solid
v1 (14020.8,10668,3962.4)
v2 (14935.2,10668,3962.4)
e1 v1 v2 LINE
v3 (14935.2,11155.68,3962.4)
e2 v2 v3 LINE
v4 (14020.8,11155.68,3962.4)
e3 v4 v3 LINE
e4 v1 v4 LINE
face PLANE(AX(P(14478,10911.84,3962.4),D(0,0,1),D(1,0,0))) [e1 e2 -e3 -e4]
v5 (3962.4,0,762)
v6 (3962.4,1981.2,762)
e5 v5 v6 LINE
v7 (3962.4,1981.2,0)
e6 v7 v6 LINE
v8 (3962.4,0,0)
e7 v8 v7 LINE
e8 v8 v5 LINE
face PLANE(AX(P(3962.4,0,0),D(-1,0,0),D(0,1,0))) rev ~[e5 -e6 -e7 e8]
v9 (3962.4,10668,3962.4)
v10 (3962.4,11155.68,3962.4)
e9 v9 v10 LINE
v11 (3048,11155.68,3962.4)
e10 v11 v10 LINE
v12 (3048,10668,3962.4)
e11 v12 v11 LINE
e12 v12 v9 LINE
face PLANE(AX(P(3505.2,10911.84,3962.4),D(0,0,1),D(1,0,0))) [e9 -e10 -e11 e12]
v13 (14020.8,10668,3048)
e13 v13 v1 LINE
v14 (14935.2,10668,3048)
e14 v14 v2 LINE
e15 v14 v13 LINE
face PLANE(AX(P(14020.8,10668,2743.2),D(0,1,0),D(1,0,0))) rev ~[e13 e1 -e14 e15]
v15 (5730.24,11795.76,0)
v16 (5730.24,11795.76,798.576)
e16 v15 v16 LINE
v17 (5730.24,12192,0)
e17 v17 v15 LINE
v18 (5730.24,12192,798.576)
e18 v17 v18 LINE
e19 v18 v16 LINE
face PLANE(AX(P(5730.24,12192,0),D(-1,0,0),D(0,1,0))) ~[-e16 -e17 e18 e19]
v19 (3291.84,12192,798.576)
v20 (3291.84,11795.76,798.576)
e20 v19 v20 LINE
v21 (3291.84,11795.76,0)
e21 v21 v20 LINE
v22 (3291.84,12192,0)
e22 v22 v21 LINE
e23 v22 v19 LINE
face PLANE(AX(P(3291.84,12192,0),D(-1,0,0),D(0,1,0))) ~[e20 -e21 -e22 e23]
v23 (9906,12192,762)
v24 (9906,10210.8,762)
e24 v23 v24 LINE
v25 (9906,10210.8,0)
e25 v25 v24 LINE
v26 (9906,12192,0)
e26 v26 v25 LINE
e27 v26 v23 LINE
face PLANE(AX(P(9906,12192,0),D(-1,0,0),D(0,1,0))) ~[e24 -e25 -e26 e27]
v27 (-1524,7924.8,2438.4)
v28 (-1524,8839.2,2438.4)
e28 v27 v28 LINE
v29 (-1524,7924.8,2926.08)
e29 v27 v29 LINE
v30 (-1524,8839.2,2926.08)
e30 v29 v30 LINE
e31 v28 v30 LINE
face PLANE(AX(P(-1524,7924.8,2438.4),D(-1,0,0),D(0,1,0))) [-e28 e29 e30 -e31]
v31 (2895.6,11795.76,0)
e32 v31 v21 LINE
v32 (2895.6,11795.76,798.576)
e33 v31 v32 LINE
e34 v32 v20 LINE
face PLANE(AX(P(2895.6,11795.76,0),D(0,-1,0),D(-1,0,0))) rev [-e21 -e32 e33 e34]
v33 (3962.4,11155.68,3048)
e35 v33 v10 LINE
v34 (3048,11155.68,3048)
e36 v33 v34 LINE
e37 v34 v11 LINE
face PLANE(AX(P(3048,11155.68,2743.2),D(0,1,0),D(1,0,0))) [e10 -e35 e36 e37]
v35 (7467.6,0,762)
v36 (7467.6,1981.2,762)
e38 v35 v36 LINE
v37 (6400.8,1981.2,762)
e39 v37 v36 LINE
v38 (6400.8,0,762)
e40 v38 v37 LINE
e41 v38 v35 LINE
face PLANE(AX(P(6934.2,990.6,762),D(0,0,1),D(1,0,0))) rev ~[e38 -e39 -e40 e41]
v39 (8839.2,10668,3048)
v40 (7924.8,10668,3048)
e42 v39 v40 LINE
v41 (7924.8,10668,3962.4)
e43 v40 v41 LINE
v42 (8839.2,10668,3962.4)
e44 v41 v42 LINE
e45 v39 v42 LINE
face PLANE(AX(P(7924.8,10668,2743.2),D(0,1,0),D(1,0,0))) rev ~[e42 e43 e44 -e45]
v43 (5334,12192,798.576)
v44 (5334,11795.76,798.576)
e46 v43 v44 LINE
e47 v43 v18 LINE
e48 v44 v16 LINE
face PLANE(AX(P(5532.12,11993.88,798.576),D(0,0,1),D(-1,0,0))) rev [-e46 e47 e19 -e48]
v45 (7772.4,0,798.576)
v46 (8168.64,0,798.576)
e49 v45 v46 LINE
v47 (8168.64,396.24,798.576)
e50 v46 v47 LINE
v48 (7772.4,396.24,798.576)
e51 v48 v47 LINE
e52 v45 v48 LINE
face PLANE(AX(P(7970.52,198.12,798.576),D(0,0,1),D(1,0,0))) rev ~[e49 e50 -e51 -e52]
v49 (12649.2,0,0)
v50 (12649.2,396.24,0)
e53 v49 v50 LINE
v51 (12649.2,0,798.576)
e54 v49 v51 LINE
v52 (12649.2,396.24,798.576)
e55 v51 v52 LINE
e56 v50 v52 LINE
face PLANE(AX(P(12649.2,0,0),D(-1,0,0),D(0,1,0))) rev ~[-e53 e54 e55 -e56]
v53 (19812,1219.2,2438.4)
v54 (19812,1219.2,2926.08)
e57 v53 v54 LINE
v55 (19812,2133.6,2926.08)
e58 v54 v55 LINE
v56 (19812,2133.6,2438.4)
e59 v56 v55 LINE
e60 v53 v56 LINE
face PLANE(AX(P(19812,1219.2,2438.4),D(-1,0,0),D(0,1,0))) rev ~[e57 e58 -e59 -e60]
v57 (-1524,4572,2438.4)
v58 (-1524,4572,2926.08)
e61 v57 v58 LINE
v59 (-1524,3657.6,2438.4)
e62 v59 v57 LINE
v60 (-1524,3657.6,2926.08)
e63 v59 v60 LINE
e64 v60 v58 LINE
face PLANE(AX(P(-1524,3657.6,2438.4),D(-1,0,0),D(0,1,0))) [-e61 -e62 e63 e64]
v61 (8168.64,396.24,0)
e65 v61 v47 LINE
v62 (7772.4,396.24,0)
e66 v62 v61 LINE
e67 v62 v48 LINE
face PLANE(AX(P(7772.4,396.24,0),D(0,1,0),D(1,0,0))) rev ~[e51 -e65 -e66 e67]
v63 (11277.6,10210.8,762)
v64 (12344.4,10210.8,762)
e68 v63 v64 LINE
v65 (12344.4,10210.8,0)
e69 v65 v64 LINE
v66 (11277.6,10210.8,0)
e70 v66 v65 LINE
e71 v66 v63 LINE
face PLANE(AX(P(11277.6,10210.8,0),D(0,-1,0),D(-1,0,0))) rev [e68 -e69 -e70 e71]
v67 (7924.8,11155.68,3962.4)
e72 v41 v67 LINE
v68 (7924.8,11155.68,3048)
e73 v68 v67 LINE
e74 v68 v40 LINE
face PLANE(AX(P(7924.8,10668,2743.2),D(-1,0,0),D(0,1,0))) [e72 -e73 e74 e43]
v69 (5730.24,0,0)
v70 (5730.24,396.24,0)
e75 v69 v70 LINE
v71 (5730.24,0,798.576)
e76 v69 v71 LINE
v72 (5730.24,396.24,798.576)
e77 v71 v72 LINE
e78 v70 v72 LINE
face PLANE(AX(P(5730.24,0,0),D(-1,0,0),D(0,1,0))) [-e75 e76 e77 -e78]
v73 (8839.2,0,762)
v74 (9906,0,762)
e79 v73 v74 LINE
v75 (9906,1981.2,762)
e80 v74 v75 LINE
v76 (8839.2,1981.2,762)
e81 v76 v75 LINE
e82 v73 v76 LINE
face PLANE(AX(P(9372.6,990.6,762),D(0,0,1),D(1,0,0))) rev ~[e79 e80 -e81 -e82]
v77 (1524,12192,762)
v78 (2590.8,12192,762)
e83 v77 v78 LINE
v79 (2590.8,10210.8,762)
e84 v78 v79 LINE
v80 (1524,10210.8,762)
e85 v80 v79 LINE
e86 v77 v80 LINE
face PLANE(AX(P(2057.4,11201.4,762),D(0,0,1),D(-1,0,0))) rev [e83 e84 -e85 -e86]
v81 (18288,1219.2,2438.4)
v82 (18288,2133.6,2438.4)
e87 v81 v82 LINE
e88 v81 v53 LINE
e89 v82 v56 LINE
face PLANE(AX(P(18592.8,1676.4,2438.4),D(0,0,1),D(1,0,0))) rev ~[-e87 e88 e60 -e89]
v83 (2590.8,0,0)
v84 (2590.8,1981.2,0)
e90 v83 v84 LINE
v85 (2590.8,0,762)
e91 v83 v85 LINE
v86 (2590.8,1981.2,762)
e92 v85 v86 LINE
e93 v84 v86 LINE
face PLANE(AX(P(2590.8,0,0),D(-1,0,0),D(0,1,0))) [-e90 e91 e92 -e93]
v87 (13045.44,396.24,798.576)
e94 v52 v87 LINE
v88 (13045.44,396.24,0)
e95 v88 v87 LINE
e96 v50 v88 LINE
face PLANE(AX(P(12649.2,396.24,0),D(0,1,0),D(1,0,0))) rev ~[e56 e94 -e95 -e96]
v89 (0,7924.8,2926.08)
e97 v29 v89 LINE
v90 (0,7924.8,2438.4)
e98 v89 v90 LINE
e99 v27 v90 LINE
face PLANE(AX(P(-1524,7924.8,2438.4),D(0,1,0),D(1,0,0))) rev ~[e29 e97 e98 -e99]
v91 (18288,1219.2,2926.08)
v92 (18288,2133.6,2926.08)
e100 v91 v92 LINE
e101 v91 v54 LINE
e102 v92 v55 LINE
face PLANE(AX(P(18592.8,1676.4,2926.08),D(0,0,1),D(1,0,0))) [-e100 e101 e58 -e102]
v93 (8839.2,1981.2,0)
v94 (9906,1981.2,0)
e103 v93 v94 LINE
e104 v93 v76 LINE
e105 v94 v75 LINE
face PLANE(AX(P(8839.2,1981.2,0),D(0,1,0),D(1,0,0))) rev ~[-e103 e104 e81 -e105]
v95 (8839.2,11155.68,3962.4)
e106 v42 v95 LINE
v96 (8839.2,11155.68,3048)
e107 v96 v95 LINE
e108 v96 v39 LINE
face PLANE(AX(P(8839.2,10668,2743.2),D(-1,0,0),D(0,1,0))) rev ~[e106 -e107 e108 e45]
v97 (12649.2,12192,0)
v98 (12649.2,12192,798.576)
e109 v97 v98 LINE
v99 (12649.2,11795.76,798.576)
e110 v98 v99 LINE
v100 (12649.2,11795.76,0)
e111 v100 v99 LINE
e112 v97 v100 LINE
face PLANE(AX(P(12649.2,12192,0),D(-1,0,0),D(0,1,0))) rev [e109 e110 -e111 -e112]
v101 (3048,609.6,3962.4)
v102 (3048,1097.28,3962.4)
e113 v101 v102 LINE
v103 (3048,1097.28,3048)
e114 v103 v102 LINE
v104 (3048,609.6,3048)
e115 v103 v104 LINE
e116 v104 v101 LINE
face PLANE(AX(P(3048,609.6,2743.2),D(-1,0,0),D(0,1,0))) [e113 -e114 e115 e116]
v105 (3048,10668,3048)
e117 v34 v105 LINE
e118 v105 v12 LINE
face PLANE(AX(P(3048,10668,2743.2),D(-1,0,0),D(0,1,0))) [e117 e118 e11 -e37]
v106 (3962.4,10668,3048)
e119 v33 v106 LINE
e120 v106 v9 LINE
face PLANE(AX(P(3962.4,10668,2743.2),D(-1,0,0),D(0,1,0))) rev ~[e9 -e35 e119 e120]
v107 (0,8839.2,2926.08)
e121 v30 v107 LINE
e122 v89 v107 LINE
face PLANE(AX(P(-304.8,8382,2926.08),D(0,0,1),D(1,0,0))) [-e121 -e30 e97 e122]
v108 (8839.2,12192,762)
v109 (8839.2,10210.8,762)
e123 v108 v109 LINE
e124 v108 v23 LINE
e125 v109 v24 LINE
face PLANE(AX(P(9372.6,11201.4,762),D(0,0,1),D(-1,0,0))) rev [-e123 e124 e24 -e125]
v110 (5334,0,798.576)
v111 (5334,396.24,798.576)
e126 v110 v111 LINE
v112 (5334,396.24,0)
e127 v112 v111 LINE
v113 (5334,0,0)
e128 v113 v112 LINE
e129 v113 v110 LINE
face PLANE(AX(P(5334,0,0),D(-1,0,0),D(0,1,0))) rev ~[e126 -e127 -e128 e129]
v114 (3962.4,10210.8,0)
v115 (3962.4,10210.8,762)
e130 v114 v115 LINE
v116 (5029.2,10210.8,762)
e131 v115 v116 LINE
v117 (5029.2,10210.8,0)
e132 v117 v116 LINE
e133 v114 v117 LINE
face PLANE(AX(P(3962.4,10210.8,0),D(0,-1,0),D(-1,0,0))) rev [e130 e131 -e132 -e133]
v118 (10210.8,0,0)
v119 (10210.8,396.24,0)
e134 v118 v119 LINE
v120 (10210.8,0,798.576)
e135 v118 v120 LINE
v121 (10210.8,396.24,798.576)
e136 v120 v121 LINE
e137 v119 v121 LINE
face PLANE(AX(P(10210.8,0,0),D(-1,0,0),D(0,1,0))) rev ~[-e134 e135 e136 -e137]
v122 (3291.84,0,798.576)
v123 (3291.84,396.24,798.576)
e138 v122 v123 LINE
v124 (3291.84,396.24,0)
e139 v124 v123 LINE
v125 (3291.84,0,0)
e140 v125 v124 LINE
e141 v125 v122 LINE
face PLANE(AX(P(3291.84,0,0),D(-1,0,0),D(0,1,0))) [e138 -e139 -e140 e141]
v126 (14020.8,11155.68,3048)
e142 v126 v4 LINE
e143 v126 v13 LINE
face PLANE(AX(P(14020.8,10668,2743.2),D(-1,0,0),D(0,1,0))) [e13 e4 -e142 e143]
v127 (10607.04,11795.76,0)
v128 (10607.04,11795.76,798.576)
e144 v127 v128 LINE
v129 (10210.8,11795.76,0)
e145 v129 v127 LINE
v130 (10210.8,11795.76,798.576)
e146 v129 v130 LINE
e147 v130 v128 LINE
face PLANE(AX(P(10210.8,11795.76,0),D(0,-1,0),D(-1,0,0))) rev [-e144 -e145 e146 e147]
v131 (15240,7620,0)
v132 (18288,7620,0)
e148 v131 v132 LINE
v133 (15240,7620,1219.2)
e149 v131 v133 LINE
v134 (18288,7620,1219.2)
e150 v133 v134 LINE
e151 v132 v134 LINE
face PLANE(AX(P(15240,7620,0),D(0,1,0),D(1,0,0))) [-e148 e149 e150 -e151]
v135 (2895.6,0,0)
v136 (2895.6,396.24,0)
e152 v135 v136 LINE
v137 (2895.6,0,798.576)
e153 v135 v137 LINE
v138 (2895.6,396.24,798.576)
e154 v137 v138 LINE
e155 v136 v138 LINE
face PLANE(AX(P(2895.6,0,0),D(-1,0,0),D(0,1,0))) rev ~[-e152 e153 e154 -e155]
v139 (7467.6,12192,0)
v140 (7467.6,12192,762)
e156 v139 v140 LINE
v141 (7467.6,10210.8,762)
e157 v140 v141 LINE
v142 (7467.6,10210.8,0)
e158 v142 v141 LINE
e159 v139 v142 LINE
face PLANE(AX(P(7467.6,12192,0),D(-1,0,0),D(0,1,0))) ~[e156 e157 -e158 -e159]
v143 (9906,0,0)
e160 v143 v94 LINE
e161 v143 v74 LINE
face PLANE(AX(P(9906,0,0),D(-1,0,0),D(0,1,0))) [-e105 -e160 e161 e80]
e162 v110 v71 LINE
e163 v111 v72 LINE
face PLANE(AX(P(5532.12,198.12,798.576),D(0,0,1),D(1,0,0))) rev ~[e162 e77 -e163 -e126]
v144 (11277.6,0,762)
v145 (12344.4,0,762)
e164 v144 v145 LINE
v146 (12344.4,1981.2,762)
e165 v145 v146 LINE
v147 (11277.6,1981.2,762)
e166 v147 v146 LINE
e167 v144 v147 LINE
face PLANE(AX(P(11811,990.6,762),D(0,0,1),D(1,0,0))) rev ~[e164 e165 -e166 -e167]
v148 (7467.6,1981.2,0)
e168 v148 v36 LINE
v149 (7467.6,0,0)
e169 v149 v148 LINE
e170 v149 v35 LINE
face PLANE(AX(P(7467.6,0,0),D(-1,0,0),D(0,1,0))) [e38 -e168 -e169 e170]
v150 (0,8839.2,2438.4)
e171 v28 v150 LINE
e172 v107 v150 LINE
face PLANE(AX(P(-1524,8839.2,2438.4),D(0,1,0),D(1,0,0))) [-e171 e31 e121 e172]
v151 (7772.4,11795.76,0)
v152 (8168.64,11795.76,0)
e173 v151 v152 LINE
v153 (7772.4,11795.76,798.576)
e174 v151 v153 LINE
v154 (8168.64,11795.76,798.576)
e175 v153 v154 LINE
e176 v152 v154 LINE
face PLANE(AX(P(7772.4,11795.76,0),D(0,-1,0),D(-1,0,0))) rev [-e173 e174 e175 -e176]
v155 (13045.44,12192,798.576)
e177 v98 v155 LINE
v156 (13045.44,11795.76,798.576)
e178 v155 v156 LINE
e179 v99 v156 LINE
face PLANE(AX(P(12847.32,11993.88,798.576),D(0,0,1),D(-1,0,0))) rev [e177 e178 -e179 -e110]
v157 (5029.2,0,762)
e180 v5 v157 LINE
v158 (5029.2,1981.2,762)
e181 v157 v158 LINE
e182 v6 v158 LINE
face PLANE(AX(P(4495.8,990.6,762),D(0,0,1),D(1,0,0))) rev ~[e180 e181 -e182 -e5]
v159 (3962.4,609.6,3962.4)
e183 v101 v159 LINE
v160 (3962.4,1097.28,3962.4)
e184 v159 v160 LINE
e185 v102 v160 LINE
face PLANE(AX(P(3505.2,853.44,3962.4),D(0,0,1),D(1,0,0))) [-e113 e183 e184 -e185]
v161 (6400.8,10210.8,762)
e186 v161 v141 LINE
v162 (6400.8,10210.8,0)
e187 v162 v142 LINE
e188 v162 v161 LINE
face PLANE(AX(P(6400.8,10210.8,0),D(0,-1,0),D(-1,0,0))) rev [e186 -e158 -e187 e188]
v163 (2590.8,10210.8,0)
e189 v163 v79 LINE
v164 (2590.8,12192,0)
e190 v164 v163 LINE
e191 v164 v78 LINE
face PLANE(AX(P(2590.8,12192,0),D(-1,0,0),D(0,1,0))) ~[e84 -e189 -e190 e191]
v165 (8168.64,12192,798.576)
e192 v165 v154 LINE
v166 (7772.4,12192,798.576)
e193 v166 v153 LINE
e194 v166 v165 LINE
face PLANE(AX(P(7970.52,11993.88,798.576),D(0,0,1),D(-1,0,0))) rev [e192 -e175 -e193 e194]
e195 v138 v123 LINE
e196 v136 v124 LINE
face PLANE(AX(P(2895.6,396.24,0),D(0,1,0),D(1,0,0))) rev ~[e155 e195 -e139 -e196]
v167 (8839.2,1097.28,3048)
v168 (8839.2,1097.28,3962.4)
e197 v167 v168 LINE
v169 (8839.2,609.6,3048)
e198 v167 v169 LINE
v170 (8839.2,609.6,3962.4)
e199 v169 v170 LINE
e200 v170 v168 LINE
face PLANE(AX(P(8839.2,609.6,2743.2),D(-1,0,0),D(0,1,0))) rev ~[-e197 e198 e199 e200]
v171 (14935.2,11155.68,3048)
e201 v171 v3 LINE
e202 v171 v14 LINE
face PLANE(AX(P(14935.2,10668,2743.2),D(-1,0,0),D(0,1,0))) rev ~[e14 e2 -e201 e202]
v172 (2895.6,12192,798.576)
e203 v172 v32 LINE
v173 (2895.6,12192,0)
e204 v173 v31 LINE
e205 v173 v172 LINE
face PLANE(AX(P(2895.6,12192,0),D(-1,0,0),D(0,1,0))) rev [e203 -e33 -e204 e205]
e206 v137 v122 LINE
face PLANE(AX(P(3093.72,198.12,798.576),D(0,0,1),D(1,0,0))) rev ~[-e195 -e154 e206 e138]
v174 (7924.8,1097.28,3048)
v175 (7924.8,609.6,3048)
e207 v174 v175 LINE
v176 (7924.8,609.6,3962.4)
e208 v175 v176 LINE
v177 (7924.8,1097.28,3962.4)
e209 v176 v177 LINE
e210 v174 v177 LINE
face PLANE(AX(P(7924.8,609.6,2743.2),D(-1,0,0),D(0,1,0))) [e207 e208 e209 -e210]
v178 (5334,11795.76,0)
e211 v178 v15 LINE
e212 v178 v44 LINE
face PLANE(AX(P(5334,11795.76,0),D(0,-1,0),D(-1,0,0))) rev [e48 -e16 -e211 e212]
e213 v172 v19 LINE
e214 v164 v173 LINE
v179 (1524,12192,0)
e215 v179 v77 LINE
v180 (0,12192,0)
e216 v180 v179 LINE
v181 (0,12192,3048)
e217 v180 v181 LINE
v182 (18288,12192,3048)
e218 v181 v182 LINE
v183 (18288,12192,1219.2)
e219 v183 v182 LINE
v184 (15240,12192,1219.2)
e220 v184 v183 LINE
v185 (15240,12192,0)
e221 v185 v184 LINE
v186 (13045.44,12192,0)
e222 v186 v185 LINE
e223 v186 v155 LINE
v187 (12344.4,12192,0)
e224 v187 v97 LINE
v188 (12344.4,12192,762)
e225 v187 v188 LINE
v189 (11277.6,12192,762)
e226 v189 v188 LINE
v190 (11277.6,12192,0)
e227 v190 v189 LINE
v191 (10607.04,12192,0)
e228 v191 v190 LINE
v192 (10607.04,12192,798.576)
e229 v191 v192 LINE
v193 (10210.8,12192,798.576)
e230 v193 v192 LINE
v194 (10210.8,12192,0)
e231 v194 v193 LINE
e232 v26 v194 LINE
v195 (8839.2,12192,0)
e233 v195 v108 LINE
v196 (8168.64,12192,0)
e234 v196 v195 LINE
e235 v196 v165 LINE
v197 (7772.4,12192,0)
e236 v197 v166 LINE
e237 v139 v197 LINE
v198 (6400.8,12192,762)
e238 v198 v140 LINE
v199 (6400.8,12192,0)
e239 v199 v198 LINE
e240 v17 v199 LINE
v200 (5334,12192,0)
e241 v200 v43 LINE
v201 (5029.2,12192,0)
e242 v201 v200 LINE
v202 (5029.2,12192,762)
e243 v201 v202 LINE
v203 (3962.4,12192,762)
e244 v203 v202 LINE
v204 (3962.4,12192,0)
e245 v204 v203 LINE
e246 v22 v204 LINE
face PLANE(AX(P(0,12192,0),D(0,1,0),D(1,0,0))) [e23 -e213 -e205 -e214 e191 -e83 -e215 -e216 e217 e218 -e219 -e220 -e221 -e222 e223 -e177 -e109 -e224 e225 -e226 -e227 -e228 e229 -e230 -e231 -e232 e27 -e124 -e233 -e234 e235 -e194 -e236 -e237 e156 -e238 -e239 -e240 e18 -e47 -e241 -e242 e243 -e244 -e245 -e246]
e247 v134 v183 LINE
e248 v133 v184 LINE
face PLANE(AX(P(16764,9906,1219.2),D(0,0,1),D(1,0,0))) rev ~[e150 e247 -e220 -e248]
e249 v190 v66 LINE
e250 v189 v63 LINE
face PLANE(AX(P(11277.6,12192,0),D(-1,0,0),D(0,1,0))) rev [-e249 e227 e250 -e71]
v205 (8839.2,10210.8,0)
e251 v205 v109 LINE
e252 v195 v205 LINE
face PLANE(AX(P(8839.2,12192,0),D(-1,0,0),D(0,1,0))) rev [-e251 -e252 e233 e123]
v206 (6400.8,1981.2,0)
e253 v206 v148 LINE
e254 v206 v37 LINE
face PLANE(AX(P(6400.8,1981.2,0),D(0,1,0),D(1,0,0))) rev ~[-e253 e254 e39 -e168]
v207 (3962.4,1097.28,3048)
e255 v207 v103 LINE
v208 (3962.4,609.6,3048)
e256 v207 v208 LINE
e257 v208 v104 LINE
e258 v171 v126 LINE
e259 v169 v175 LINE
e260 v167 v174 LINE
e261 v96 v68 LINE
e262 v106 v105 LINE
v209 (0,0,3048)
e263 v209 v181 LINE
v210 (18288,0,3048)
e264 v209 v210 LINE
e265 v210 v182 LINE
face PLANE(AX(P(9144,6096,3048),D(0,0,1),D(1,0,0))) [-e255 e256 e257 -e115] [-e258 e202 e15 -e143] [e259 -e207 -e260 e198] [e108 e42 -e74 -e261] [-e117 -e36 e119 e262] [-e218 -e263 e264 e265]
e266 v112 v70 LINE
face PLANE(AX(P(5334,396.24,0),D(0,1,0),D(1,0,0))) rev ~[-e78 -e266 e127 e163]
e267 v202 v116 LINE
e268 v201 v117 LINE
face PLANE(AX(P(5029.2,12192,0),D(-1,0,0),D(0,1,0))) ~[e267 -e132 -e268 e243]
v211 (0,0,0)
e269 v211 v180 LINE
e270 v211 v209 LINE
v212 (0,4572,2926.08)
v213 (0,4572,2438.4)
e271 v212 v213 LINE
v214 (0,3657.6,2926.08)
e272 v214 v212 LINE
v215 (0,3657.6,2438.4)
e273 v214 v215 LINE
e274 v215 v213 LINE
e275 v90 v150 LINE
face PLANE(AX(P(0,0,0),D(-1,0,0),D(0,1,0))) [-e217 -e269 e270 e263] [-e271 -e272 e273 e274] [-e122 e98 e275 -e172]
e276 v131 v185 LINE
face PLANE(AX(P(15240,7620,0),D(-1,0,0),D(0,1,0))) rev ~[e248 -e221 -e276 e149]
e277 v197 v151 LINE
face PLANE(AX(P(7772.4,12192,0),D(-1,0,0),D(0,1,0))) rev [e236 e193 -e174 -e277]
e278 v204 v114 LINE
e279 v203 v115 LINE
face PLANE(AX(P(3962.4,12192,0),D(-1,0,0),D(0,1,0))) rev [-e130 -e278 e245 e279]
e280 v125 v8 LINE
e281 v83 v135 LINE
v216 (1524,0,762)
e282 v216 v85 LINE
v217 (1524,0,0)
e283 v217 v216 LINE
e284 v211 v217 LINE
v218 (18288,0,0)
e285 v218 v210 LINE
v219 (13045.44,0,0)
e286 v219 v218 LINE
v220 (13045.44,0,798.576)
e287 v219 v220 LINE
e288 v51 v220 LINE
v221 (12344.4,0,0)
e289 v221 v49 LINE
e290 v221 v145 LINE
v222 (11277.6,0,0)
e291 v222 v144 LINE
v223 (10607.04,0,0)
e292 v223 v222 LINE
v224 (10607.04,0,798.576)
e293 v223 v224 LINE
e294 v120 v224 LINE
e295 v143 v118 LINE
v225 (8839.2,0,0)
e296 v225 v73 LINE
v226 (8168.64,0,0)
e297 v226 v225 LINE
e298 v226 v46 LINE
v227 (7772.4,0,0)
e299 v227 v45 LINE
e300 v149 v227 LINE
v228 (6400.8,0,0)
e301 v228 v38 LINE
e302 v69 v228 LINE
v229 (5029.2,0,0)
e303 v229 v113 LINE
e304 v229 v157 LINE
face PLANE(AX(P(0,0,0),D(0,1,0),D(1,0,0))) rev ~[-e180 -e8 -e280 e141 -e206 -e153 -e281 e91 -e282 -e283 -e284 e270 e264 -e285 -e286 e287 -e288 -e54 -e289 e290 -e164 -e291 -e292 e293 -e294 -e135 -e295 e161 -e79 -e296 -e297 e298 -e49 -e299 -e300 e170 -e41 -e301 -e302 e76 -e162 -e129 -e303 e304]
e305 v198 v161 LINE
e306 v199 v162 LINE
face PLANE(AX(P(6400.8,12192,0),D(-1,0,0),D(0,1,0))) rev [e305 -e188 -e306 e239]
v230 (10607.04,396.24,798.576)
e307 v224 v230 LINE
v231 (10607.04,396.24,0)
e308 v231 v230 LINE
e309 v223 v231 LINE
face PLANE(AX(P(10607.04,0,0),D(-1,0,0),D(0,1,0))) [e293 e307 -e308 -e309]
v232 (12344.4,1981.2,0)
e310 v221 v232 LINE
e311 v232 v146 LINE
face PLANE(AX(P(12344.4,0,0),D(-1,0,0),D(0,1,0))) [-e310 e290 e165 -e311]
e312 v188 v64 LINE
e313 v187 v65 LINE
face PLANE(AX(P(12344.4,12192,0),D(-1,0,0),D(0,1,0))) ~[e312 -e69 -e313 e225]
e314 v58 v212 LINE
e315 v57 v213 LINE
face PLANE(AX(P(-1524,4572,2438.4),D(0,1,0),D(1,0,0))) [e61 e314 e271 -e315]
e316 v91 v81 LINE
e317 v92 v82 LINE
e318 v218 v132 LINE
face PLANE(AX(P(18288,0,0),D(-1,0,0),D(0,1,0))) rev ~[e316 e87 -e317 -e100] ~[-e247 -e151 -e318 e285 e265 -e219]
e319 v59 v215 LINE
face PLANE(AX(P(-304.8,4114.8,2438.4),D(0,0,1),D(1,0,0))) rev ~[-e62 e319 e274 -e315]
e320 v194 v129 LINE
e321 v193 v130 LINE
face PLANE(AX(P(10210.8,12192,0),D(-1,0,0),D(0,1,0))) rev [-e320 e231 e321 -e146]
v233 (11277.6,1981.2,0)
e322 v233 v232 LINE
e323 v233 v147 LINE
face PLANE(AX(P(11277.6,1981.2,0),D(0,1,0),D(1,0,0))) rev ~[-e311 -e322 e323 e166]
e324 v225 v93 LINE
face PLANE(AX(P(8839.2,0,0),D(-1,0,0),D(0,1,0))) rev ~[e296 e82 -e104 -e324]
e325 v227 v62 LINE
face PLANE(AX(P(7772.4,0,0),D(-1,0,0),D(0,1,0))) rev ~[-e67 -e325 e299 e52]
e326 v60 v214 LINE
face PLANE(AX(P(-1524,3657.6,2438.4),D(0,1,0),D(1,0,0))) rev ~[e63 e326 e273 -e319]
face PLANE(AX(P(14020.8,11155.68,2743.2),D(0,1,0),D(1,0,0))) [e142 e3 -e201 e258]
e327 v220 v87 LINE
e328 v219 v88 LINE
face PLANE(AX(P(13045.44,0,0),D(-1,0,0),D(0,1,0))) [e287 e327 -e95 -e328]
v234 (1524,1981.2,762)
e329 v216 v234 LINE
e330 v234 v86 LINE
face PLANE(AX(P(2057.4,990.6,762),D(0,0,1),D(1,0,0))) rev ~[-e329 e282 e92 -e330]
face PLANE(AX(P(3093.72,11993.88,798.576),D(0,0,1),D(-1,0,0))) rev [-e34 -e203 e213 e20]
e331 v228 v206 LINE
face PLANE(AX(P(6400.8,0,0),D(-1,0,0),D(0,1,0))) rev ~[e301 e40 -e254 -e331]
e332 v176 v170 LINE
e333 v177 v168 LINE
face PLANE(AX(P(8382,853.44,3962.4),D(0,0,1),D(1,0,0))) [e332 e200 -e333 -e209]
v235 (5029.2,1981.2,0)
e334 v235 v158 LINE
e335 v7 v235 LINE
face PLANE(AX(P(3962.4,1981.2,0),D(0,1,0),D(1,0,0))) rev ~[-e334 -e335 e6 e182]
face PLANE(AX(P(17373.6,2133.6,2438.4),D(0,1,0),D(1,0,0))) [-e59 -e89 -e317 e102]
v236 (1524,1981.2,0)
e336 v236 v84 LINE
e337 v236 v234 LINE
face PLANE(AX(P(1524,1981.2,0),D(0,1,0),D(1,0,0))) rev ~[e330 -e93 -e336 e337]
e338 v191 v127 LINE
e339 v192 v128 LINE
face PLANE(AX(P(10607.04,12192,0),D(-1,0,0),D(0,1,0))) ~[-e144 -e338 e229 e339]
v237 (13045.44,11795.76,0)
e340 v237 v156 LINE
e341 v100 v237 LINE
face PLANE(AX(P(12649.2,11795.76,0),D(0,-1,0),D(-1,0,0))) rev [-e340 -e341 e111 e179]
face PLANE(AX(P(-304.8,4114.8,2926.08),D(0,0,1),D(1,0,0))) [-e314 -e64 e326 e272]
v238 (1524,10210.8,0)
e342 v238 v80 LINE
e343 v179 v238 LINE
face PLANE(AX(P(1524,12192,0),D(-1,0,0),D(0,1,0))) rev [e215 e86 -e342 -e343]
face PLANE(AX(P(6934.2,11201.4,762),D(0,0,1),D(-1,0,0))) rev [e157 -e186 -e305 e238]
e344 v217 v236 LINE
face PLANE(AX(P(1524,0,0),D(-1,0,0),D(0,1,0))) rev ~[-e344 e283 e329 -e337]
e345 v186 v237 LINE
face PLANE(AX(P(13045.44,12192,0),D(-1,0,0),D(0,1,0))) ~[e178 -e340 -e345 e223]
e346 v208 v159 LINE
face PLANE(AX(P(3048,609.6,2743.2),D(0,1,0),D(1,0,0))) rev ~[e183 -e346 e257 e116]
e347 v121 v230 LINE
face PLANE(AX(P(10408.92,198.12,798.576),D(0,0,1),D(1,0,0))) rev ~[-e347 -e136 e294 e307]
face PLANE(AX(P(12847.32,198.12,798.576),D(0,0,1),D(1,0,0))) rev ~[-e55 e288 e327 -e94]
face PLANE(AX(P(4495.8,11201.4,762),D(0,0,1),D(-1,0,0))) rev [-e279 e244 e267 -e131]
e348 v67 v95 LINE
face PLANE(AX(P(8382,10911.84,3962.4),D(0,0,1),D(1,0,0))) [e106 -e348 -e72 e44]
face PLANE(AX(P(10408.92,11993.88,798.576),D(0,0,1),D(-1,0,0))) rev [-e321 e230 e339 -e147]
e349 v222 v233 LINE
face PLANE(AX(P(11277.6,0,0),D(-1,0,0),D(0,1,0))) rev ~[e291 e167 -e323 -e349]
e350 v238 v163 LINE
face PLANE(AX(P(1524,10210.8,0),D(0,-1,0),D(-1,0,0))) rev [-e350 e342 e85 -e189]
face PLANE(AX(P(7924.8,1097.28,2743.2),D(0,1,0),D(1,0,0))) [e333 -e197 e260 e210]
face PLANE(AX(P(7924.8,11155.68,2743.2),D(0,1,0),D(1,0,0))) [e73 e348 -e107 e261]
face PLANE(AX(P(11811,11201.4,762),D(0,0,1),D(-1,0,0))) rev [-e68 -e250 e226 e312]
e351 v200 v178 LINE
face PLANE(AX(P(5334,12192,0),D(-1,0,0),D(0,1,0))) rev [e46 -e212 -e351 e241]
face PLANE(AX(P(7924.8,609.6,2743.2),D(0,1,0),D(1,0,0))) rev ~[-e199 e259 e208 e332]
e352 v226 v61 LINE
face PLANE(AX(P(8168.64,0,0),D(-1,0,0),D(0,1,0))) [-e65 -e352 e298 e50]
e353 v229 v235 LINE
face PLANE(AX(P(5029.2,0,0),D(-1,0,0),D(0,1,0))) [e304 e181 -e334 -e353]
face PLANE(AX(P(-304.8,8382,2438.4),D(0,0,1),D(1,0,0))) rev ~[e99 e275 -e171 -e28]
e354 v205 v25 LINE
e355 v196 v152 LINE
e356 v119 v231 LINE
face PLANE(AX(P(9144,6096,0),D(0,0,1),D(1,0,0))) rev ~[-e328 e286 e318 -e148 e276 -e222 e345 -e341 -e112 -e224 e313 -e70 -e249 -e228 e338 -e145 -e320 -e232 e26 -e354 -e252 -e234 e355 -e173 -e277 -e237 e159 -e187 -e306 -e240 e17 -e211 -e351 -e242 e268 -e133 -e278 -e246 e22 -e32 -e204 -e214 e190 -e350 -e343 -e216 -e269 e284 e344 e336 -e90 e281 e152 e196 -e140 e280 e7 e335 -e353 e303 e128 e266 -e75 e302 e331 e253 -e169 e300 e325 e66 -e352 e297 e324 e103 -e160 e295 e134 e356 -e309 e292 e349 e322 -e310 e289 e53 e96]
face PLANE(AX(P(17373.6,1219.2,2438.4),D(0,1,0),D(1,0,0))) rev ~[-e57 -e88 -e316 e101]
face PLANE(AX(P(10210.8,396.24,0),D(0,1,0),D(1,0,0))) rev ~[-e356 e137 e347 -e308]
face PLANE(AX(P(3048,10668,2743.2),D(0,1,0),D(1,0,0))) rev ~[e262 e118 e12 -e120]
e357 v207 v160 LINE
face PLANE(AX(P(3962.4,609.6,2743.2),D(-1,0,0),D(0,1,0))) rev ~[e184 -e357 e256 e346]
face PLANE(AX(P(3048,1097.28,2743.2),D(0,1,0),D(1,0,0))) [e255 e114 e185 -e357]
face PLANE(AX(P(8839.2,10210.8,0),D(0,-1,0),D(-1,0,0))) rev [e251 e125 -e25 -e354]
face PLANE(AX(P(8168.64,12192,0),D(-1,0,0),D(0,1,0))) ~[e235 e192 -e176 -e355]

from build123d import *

# Parameters (mm, degrees)
BOX011_W     = 3048
BOX011_H     = 4572
BOX011_DEPTH = 1219.2
BOX006_W     = 1066.8
BOX006_H     = 1981.2
BOX006_DEPTH = 762
BOX005_W     = 396.24
BOX005_H     = 396.24
BOX005_DEPTH = 798.576
BOX007_W     = 1066.8
BOX007_H     = 1981.2
BOX007_DEPTH = 762
BOX008_W     = 396.24
BOX008_H     = 396.24
BOX008_DEPTH = 798.576
BOX010_W     = 1066.8
BOX010_H     = 1981.2
BOX010_DEPTH = 762
BOX009_W     = 396.24
BOX009_H     = 396.24
BOX009_DEPTH = 798.576
BOX001_W     = 1066.8
BOX001_H     = 1981.2
BOX001_DEPTH = 762
BOX002_W     = 396.24
BOX002_H     = 396.24
BOX002_DEPTH = 798.576
BOX003_W     = 1066.8
BOX003_H     = 1981.2
BOX003_DEPTH = 762
BOX004_W     = 396.24
BOX004_H     = 396.24
BOX004_DEPTH = 798.576
BOX013_W     = 2438.4
BOX013_H     = 914.4
BOX013_DEPTH = 487.68
BOX012_W     = 2438.4
BOX012_H     = 914.4
BOX012_DEPTH = 487.68
BOX020_W     = 2438.4
BOX020_H     = 914.4
BOX020_DEPTH = 487.68
BOX016_W     = 914.4
BOX016_H     = 487.68
BOX016_DEPTH = 1219.2
BOX017_W     = 914.4
BOX017_H     = 487.68
BOX017_DEPTH = 1219.2
BOX018_W     = 914.4
BOX018_H     = 487.68
BOX018_DEPTH = 1219.2
BOX019_W     = 914.4
BOX019_H     = 487.68
BOX019_DEPTH = 1219.2
BOX014_W     = 914.4
BOX014_H     = 487.68
BOX014_DEPTH = 1219.2
BOX_W        = 18288
BOX_H        = 12192
BOX_DEPTH    = 3048


with BuildPart() as nurse_station:
    # Box011 → Box011 (new body)
    with BuildSketch(Plane(origin=(15240, 7620, 0), x_dir=(1, 0, 0), z_dir=(0, 0, 1))):
        with Locations((1524, 2286)):
            Rectangle(BOX011_W, BOX011_H)
    extrude(amount=BOX011_DEPTH)


with BuildPart() as box006:
    # Box006 → Box006 (new body)
    with BuildSketch(Plane.XY):
        with Locations((533.4, 990.6)):
            Rectangle(BOX006_W, BOX006_H)
    extrude(amount=BOX006_DEPTH)


with BuildPart() as fusion002:
    # Box005 → Box005 (new body)
    with BuildSketch(Plane(origin=(1371.6, 0, 0), x_dir=(1, 0, 0), z_dir=(0, 0, 1))):
        with Locations((198.12, 198.12)):
            Rectangle(BOX005_W, BOX005_H)
    extrude(amount=BOX005_DEPTH)

    # Fusion002: union Box006
    add(box006.part)


with BuildPart() as fusion002_1:
    # Fusion002 placement: moved
    add(fusion002.part.moved(Location((4876.8, 0, 0))))


with BuildPart() as box007:
    # Box007 → Box007 (new body)
    with BuildSketch(Plane.XY):
        with Locations((533.4, 990.6)):
            Rectangle(BOX007_W, BOX007_H)
    extrude(amount=BOX007_DEPTH)


with BuildPart() as fusion003:
    # Box008 → Box008 (new body)
    with BuildSketch(Plane(origin=(1371.6, 0, 0), x_dir=(1, 0, 0), z_dir=(0, 0, 1))):
        with Locations((198.12, 198.12)):
            Rectangle(BOX008_W, BOX008_H)
    extrude(amount=BOX008_DEPTH)

    # Fusion003: union Box007
    add(box007.part)


with BuildPart() as fusion003_1:
    # Fusion003 placement: moved
    add(fusion003.part.moved(Location((7315.2, 0, 0))))


with BuildPart() as box010:
    # Box010 → Box010 (new body)
    with BuildSketch(Plane.XY):
        with Locations((533.4, 990.6)):
            Rectangle(BOX010_W, BOX010_H)
    extrude(amount=BOX010_DEPTH)


with BuildPart() as fusion004:
    # Box009 → Box009 (new body)
    with BuildSketch(Plane(origin=(1371.6, 0, 0), x_dir=(1, 0, 0), z_dir=(0, 0, 1))):
        with Locations((198.12, 198.12)):
            Rectangle(BOX009_W, BOX009_H)
    extrude(amount=BOX009_DEPTH)

    # Fusion004: union Box010
    add(box010.part)


with BuildPart() as fusion004_1:
    # Fusion004 placement: moved
    add(fusion004.part.moved(Location((9753.6, 0, 0))))


with BuildPart() as box001:
    # Box001 → Box001 (new body)
    with BuildSketch(Plane.XY):
        with Locations((533.4, 990.6)):
            Rectangle(BOX001_W, BOX001_H)
    extrude(amount=BOX001_DEPTH)


with BuildPart() as fusion:
    # Box002 → Box002 (new body)
    with BuildSketch(Plane(origin=(1371.6, 0, 0), x_dir=(1, 0, 0), z_dir=(0, 0, 1))):
        with Locations((198.12, 198.12)):
            Rectangle(BOX002_W, BOX002_H)
    extrude(amount=BOX002_DEPTH)

    # Fusion: union Box001
    add(box001.part)


with BuildPart() as box003:
    # Box003 → Box003 (new body)
    with BuildSketch(Plane.XY):
        with Locations((533.4, 990.6)):
            Rectangle(BOX003_W, BOX003_H)
    extrude(amount=BOX003_DEPTH)


with BuildPart() as right_beds:
    # Box004 → Box004 (new body)
    with BuildSketch(Plane(origin=(1371.6, 0, 0), x_dir=(1, 0, 0), z_dir=(0, 0, 1))):
        with Locations((198.12, 198.12)):
            Rectangle(BOX004_W, BOX004_H)
    extrude(amount=BOX004_DEPTH)

    # Fusion001: union Box003
    add(box003.part)


with BuildPart() as right_beds_1:
    # Fusion001 placement: moved
    add(right_beds.part.moved(Location((2438.4, 0, 0))))

    # Fusion005: union Fusion002, Fusion003, Fusion004, Fusion
    add(fusion002_1.part)
    add(fusion003_1.part)
    add(fusion004_1.part)
    add(fusion.part)


with BuildPart() as surfaces:
    # Part__Mirroring: instance of right beds
    add(right_beds_1.part.mirror(Plane(origin=(0, 6096, 0), x_dir=(1, 0, 0), z_dir=(0, 1, 0))))

    # Fusion006: union right beds
    add(right_beds_1.part)


with BuildPart() as surfaces_1:
    # Fusion006 placement: moved
    add(surfaces.part.moved(Location((1524, 0, 0))))

    # Fusion010: union Nurse Station
    add(nurse_station.part)


with BuildPart() as main_outlet:
    # Box013 → Box013 (new body)
    with BuildSketch(Plane(origin=(-1524, 3657.6, 2438.4), x_dir=(1, 0, 0), z_dir=(0, 0, 1))):
        with Locations((1219.2, 457.2)):
            Rectangle(BOX013_W, BOX013_H)
    extrude(amount=BOX013_DEPTH)


with BuildPart() as main_inlet:
    # Box012 → Box012 (new body)
    with BuildSketch(Plane(origin=(17373.6, 1219.2, 2438.4), x_dir=(1, 0, 0), z_dir=(0, 0, 1))):
        with Locations((1219.2, 457.2)):
            Rectangle(BOX012_W, BOX012_H)
    extrude(amount=BOX012_DEPTH)


with BuildPart() as main_ducts:
    # Box020 → Box020 (new body)
    with BuildSketch(Plane(origin=(-1524, 7924.8, 2438.4), x_dir=(1, 0, 0), z_dir=(0, 0, 1))):
        with Locations((1219.2, 457.2)):
            Rectangle(BOX020_W, BOX020_H)
    extrude(amount=BOX020_DEPTH)

    # Fusion007: union main outlet, main inlet
    add(main_outlet.part)
    add(main_inlet.part)


with BuildPart() as branch002:
    # Box016 → Box016 (new body)
    with BuildSketch(Plane(origin=(7924.8, 609.6, 2743.2), x_dir=(1, 0, 0), z_dir=(0, 0, 1))):
        with Locations((457.2, 243.84)):
            Rectangle(BOX016_W, BOX016_H)
    extrude(amount=BOX016_DEPTH)


with BuildPart() as branch003:
    # Box017 → Box017 (new body)
    with BuildSketch(Plane(origin=(7924.8, 10668, 2743.2), x_dir=(1, 0, 0), z_dir=(0, 0, 1))):
        with Locations((457.2, 243.84)):
            Rectangle(BOX017_W, BOX017_H)
    extrude(amount=BOX017_DEPTH)


with BuildPart() as branch004:
    # Box018 → Box018 (new body)
    with BuildSketch(Plane(origin=(3048, 609.6, 2743.2), x_dir=(1, 0, 0), z_dir=(0, 0, 1))):
        with Locations((457.2, 243.84)):
            Rectangle(BOX018_W, BOX018_H)
    extrude(amount=BOX018_DEPTH)


with BuildPart() as branch005:
    # Box019 → Box019 (new body)
    with BuildSketch(Plane(origin=(3048, 10668, 2743.2), x_dir=(1, 0, 0), z_dir=(0, 0, 1))):
        with Locations((457.2, 243.84)):
            Rectangle(BOX019_W, BOX019_H)
    extrude(amount=BOX019_DEPTH)


with BuildPart() as vents:
    # Box014 → Box014 (new body)
    with BuildSketch(Plane(origin=(14020.8, 10668, 2743.2), x_dir=(1, 0, 0), z_dir=(0, 0, 1))):
        with Locations((457.2, 243.84)):
            Rectangle(BOX014_W, BOX014_H)
    extrude(amount=BOX014_DEPTH)

    # Fusion008: union branch002, branch003, branch004, branch005
    add(branch002.part)
    add(branch003.part)
    add(branch004.part)
    add(branch005.part)

    # Fusion009: union main_ducts
    add(main_ducts.part)


with BuildPart() as cut:
    # Box → Box (new body)
    with BuildSketch(Plane.XY):
        with Locations((9144, 6096)):
            Rectangle(BOX_W, BOX_H)
    extrude(amount=BOX_DEPTH)

    # Fusion011: union vents
    add(vents.part)

    # Cut: cut surfaces
    add(surfaces_1.part, mode=Mode.SUBTRACT)


solid = cut.part
